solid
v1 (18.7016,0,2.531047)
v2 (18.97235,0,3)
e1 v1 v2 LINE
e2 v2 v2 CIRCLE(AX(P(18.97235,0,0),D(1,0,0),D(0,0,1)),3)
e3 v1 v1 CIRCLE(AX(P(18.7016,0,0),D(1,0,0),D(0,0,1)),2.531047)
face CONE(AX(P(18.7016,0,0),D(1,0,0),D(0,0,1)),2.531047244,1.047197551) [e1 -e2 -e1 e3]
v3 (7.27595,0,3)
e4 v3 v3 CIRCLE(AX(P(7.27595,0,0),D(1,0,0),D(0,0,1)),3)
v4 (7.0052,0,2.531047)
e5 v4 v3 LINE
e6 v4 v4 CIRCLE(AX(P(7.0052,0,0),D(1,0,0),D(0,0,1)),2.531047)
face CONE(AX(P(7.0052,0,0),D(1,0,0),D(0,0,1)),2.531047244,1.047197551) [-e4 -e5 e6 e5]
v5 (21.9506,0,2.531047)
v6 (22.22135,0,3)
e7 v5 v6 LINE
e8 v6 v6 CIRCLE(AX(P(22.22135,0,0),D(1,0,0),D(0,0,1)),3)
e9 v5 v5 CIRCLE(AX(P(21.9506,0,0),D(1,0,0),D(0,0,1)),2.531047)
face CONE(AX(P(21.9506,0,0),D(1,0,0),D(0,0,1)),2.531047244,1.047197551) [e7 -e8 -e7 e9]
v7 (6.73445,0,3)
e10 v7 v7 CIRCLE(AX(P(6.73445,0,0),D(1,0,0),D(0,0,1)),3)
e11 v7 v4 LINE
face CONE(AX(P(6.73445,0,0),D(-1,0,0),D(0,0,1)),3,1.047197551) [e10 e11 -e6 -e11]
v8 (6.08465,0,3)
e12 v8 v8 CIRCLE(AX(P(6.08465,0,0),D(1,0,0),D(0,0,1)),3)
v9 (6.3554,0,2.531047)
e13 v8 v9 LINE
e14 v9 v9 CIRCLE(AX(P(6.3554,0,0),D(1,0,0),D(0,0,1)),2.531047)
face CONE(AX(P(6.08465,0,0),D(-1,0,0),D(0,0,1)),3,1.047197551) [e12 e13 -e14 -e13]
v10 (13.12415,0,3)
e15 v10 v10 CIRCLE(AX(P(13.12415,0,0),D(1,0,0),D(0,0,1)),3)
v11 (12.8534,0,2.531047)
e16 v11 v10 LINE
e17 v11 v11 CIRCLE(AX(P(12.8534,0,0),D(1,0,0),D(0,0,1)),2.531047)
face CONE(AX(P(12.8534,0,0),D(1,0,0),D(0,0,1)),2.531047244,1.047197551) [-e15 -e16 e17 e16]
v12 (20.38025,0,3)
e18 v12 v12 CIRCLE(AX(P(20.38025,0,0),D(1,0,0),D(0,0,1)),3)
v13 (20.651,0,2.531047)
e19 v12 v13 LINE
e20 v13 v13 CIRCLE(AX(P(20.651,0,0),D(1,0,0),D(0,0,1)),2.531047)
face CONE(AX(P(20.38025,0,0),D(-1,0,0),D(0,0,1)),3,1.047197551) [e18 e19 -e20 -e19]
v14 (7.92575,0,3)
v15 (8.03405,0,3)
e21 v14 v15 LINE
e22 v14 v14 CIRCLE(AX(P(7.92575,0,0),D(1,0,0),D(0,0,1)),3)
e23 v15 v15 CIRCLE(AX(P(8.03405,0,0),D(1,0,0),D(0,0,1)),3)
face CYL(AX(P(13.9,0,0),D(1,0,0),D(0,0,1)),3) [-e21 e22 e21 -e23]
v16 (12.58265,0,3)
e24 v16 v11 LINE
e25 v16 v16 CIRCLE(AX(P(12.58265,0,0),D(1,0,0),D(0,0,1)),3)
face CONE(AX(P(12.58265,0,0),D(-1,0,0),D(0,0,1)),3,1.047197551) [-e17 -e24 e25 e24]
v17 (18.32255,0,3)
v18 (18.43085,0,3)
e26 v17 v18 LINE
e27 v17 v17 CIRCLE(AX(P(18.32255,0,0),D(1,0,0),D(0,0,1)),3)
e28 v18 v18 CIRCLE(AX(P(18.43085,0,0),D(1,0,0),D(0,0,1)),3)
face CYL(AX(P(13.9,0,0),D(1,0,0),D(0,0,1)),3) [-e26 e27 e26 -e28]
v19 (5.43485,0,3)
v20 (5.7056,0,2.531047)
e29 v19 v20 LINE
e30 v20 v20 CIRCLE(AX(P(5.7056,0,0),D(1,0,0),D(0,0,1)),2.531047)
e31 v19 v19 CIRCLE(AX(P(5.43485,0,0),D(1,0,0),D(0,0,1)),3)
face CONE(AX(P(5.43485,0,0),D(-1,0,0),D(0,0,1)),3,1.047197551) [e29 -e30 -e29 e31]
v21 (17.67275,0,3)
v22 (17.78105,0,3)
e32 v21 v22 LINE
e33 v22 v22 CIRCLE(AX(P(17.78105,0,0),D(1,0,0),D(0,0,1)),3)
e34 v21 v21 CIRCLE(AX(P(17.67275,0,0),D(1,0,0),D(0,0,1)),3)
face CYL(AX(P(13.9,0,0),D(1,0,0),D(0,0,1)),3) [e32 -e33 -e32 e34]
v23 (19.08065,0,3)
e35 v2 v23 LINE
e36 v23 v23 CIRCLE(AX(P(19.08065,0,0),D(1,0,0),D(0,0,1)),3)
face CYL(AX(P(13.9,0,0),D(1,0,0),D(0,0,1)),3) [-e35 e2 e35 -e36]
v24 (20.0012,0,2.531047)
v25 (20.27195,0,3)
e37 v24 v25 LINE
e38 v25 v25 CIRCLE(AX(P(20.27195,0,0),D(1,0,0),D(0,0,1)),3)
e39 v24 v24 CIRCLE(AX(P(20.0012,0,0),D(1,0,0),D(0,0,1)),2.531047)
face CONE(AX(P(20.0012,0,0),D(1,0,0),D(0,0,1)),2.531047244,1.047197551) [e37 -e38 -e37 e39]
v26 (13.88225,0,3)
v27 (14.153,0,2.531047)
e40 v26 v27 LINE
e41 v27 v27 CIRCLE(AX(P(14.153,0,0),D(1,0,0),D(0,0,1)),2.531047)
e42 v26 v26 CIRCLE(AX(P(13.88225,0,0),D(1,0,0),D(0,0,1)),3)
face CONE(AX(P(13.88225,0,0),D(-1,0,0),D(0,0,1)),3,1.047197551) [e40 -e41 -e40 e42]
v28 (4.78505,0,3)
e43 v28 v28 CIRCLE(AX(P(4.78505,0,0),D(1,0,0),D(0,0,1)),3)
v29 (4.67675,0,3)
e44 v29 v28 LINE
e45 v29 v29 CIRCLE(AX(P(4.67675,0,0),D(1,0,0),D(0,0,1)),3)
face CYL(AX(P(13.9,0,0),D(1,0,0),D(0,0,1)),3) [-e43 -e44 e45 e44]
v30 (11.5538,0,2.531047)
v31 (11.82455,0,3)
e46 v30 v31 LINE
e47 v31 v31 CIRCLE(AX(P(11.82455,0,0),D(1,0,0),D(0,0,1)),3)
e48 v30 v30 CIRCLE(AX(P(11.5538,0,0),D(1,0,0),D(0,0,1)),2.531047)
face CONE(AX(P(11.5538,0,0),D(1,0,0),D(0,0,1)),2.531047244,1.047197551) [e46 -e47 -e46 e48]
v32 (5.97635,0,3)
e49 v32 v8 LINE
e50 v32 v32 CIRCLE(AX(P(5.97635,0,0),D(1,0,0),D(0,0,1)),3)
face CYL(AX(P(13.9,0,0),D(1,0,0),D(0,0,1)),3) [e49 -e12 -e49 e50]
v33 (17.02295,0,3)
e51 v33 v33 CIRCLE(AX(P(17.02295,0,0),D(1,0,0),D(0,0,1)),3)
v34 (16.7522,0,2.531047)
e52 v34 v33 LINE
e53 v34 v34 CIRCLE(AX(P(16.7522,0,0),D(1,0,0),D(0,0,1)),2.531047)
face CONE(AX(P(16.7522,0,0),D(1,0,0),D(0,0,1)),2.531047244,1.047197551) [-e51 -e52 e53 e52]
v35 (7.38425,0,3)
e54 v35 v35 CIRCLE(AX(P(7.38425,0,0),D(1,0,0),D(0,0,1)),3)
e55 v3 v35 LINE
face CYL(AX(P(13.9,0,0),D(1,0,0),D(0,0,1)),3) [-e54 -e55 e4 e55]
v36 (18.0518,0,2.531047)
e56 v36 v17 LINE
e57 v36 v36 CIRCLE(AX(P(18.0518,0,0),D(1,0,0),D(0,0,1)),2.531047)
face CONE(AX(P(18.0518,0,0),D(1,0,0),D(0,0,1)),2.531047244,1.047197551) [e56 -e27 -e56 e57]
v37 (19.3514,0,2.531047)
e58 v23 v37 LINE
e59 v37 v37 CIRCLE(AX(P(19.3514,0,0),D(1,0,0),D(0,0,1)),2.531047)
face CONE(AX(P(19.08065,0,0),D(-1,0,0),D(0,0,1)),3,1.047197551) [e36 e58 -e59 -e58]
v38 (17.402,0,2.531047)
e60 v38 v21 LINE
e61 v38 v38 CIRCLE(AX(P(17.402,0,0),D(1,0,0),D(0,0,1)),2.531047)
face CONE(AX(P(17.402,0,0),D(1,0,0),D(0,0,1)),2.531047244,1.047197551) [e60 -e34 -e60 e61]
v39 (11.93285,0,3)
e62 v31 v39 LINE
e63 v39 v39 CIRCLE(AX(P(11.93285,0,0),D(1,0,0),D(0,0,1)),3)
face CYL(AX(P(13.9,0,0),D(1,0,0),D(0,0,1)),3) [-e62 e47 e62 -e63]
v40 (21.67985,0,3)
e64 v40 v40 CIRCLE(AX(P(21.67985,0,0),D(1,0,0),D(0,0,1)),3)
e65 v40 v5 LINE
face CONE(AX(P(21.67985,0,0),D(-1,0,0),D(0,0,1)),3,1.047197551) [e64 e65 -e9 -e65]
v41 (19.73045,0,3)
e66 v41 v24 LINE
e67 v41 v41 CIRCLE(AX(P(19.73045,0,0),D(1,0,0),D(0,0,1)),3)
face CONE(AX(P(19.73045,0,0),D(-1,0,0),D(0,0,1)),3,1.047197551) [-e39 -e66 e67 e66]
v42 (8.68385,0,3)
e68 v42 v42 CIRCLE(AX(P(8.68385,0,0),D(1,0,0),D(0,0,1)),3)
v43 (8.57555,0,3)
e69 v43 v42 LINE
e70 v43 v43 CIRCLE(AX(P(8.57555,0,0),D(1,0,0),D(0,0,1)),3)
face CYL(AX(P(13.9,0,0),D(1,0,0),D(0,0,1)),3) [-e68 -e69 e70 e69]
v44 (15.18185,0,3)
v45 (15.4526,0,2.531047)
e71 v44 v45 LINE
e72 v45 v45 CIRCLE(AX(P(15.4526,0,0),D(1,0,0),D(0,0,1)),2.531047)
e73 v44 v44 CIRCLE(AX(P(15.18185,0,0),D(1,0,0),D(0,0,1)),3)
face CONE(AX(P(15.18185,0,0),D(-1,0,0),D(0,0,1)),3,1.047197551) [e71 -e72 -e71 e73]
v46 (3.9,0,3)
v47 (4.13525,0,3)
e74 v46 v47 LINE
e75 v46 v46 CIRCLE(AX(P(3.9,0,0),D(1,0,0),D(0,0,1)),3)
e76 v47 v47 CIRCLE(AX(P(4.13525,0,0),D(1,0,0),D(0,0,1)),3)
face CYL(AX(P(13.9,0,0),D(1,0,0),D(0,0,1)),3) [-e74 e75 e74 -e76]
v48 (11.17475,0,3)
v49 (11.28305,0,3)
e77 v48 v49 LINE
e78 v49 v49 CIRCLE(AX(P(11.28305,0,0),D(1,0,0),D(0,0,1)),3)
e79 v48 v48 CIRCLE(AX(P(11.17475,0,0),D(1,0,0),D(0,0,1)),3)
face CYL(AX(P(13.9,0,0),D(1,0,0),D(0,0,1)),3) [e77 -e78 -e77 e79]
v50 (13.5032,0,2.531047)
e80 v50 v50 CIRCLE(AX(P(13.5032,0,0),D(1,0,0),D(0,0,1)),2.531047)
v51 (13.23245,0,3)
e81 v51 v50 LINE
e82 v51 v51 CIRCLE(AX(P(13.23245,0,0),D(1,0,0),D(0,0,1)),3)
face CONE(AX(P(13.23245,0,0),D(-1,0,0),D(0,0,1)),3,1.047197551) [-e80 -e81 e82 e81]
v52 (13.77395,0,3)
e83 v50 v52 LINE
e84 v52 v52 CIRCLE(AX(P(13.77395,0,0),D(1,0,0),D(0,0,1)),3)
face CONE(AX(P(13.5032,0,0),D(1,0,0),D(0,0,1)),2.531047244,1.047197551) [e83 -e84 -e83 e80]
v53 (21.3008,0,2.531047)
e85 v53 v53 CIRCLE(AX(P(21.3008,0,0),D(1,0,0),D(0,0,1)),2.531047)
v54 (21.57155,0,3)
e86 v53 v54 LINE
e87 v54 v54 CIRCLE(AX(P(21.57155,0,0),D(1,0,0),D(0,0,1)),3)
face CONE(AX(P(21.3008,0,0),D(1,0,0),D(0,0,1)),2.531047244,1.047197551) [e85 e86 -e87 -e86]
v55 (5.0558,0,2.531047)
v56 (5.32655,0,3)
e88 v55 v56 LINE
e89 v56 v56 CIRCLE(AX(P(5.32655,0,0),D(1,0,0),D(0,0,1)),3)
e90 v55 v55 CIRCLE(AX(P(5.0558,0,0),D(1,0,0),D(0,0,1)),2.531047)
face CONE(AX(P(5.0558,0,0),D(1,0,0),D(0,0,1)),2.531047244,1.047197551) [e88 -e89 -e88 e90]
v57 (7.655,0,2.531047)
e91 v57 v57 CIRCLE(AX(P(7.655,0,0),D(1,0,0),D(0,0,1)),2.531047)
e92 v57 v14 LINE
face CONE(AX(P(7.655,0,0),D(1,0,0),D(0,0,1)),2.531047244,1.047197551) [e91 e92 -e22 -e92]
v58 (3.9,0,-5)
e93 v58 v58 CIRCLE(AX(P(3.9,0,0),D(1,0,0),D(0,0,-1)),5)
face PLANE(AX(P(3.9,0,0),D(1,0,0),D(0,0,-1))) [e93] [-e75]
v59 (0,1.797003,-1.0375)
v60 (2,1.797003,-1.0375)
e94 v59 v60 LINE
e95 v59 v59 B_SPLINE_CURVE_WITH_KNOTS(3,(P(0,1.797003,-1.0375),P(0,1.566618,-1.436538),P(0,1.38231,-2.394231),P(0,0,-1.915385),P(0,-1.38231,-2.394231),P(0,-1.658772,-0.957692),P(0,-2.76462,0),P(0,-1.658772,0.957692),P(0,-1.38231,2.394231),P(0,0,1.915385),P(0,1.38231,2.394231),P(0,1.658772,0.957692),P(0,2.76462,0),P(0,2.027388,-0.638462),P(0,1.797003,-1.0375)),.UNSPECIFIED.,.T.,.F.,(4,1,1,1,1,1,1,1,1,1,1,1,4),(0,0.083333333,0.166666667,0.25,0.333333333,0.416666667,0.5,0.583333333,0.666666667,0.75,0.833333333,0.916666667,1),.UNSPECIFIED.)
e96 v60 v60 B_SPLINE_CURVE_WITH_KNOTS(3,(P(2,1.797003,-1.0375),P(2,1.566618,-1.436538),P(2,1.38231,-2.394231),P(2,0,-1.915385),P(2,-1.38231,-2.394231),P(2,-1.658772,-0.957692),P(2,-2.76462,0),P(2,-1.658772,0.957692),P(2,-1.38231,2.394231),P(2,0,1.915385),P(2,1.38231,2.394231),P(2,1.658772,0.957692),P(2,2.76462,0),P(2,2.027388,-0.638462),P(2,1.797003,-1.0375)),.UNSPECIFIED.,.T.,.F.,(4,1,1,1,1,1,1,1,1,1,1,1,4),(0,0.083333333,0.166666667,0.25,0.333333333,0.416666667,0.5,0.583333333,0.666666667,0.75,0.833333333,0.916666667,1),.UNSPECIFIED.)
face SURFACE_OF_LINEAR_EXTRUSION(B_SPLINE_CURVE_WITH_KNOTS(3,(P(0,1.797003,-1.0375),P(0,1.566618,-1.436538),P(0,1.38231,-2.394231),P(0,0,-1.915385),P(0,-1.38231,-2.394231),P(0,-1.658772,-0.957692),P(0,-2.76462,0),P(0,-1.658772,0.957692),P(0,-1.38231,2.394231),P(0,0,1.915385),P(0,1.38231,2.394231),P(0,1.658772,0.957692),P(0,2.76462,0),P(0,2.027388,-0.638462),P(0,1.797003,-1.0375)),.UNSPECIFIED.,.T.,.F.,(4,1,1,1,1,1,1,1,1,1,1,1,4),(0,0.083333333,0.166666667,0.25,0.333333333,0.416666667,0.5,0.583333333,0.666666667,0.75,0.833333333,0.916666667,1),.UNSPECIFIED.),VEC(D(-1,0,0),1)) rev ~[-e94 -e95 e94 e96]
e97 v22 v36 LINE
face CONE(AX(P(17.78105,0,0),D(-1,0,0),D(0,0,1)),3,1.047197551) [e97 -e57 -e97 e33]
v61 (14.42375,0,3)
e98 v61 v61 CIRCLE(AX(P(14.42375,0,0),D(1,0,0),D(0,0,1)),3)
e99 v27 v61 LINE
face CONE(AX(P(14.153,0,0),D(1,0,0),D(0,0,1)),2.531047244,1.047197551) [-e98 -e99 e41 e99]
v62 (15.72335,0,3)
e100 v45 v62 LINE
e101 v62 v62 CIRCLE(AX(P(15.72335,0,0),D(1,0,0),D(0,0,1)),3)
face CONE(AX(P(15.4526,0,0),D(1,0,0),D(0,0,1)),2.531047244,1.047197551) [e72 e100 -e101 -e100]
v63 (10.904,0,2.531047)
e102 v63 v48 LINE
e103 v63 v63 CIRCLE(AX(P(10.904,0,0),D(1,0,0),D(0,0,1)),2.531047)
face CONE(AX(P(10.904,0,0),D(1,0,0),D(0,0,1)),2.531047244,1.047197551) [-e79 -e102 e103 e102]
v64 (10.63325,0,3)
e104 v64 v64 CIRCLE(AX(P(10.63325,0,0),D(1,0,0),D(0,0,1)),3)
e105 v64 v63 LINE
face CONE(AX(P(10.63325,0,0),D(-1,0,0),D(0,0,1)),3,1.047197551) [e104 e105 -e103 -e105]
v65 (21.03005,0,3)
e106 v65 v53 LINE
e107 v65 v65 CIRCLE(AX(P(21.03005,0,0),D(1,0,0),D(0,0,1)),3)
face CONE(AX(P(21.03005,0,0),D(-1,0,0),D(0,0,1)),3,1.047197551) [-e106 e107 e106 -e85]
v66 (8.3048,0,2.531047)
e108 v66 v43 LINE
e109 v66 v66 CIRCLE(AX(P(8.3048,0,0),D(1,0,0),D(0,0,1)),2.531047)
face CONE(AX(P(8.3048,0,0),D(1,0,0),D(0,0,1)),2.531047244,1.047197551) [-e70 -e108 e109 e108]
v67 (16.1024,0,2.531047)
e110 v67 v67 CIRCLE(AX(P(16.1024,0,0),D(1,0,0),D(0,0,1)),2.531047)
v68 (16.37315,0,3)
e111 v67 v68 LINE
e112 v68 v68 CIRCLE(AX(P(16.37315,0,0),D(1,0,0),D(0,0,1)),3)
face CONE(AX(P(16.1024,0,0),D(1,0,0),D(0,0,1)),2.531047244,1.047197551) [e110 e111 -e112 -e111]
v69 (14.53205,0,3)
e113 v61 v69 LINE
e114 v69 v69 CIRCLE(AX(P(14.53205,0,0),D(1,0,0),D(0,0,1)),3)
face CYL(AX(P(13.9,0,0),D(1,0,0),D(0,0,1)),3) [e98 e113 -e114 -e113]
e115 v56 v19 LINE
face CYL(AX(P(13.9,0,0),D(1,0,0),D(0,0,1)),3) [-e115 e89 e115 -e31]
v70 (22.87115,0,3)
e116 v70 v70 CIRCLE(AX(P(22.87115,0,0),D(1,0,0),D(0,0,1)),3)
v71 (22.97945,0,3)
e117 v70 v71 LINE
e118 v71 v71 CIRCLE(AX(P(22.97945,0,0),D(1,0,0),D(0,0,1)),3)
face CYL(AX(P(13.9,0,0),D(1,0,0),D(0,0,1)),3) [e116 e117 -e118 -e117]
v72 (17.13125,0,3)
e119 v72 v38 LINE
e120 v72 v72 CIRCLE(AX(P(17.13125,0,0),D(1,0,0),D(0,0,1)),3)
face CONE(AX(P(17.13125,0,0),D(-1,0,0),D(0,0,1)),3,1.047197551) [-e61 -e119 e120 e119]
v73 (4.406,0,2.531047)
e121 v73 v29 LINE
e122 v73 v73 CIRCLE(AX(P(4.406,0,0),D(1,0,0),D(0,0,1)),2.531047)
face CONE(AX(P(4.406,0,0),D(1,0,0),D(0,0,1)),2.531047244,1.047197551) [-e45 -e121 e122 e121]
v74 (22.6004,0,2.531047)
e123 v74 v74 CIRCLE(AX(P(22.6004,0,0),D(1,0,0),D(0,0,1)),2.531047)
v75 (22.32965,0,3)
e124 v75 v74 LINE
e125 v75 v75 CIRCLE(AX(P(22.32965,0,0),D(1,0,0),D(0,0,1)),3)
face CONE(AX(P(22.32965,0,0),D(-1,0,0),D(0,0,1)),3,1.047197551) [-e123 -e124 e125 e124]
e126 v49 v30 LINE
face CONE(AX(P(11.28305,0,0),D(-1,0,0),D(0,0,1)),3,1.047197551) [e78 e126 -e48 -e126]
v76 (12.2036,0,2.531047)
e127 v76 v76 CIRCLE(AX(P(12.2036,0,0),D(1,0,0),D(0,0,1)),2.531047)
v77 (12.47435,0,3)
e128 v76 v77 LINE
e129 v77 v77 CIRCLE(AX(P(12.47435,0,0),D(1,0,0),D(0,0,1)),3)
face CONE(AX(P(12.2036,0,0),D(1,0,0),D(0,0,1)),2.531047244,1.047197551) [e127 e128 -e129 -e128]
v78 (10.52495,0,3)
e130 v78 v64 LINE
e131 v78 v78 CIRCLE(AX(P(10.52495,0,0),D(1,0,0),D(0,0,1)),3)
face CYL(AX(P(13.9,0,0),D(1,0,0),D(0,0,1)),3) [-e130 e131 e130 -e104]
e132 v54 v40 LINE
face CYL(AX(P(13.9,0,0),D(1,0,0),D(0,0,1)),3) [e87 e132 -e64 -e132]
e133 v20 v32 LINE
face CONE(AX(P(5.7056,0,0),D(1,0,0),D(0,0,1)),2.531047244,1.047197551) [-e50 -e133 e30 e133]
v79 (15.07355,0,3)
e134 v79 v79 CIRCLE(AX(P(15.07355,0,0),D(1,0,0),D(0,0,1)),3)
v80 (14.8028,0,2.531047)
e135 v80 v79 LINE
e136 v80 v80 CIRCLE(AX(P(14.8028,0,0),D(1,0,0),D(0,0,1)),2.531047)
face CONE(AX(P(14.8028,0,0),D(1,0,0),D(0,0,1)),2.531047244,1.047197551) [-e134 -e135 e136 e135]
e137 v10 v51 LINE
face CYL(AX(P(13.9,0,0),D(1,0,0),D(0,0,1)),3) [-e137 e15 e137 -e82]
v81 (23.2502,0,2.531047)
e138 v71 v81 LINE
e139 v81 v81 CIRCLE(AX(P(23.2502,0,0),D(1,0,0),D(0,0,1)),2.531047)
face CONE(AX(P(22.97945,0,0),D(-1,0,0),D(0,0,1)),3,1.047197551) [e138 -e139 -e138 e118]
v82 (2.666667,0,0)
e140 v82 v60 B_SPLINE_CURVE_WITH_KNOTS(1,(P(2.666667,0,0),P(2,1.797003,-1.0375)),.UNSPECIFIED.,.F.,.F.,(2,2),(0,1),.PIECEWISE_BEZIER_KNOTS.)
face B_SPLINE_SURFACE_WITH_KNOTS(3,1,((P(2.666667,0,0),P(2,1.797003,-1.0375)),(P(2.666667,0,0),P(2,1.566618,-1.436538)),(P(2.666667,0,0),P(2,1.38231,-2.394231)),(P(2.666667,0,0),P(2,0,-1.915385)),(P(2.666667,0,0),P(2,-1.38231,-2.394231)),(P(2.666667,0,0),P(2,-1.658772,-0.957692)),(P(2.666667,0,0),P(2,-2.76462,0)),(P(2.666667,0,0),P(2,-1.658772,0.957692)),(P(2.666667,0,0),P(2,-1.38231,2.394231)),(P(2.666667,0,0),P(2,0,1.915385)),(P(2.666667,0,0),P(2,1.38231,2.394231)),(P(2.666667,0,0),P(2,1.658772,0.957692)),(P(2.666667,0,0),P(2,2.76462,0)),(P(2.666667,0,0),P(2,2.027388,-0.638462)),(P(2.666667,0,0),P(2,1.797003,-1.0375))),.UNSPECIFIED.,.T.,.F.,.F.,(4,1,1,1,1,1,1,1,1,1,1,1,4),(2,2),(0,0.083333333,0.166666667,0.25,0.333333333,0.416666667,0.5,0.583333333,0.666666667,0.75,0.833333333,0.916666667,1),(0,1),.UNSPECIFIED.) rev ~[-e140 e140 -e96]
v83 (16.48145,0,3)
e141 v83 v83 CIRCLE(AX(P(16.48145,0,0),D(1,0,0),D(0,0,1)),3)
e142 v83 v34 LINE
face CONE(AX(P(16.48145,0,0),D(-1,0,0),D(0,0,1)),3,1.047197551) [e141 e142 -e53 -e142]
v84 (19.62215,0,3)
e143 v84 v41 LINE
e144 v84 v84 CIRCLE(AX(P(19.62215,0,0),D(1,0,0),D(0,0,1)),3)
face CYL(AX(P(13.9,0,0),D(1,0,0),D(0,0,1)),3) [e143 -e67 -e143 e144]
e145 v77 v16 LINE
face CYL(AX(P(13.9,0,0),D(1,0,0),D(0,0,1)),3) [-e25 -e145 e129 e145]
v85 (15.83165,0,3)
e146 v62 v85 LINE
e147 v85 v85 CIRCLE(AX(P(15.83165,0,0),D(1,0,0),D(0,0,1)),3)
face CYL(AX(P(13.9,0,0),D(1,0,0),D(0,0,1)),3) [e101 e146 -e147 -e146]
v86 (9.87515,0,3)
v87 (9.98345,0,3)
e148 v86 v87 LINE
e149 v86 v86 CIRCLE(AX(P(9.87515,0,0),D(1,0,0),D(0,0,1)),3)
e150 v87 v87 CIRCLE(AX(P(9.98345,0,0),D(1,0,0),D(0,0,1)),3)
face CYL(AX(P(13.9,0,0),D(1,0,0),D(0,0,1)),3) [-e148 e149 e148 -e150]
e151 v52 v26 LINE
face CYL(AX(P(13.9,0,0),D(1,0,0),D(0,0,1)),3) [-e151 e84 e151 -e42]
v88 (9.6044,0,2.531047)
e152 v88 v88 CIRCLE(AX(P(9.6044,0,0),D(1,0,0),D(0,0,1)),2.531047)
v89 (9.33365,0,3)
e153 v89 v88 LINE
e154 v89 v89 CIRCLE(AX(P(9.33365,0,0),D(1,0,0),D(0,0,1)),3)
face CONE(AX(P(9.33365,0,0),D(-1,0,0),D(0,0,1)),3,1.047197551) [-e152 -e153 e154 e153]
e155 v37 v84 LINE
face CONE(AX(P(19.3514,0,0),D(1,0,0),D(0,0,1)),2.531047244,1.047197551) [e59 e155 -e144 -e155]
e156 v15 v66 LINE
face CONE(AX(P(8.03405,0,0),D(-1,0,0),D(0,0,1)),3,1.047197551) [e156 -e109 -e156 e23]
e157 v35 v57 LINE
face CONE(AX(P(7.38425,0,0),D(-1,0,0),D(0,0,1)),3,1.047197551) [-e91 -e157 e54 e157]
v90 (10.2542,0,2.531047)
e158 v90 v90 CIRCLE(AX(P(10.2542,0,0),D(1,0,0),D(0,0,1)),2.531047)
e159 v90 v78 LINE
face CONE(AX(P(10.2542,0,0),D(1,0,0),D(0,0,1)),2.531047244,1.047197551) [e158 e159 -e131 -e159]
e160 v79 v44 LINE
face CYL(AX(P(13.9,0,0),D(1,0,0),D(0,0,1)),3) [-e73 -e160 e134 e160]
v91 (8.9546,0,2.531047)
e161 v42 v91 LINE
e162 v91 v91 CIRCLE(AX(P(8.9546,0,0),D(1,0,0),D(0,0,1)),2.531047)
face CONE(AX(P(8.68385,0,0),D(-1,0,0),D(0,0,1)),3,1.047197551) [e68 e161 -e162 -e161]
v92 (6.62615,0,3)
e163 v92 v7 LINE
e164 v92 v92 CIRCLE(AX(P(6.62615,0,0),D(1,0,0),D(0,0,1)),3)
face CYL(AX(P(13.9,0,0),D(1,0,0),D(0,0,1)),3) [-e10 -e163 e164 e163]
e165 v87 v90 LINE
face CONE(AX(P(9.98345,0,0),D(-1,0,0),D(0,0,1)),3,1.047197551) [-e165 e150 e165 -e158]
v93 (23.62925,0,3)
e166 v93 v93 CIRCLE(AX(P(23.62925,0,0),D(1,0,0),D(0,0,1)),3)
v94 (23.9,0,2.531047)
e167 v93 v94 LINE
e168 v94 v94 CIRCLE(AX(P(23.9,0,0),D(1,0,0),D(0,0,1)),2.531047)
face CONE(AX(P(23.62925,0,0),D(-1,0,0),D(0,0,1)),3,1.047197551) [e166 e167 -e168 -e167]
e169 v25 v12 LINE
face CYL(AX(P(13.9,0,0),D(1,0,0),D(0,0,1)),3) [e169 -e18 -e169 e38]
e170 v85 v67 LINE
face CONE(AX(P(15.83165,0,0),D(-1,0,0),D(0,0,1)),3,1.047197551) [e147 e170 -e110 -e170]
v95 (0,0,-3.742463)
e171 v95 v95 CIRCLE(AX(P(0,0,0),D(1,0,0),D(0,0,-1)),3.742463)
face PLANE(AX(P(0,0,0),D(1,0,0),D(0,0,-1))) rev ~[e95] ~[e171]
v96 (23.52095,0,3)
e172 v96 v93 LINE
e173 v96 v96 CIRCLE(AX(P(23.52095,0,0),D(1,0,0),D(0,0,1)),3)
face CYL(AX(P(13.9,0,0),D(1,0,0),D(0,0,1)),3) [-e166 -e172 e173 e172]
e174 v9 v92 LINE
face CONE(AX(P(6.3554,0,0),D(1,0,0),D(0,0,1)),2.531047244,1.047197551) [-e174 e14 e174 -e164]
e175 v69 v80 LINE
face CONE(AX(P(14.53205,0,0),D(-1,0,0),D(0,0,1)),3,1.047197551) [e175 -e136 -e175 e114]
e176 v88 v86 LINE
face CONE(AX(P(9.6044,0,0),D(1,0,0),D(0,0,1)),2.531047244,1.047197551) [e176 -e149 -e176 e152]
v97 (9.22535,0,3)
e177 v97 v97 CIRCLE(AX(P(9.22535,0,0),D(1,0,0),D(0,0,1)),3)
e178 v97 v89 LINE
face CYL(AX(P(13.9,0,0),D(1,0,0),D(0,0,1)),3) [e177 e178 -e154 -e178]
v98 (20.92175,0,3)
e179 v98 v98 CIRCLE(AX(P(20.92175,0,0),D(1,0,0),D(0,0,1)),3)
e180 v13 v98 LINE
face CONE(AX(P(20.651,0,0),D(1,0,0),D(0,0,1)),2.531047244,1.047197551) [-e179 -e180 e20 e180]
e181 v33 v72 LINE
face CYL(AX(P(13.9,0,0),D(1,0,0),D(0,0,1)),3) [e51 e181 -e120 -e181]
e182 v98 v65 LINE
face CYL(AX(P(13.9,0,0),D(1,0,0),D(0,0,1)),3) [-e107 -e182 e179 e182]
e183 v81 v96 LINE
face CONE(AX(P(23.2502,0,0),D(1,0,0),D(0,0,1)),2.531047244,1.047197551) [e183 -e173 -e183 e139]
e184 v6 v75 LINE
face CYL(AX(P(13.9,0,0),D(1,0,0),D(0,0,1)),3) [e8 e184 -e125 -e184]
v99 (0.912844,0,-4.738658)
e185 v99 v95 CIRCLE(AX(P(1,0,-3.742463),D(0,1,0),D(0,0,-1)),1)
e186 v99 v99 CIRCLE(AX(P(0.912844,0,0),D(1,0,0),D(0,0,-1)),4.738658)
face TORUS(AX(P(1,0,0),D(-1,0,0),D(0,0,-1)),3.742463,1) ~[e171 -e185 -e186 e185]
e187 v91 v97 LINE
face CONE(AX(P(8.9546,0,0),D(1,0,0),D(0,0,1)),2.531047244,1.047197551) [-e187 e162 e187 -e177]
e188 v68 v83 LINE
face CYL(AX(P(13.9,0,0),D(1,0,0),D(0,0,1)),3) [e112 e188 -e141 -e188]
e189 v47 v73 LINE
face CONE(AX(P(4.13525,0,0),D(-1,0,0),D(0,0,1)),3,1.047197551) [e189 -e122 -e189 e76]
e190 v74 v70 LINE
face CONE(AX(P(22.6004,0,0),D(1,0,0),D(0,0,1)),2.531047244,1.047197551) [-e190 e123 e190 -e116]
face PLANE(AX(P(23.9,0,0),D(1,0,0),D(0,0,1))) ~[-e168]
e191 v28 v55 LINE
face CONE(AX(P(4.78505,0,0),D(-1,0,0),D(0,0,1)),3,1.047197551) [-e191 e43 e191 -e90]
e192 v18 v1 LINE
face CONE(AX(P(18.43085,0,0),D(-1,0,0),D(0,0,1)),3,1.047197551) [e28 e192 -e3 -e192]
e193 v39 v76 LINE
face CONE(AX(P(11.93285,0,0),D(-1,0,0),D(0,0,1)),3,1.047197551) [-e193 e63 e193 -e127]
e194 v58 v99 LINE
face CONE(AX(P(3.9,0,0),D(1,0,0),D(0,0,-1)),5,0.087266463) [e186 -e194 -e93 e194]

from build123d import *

# Parameters (mm, degrees)
SKETCH1_R        = 5
BASEHEAD_DEPTH   = 3.9
BASEHEAD_DRAFT   = -5
SKETCH8_W        = 20
SKETCH8_H        = 3
SOCKET_DEPTH     = 2
HEADFILLET2_R    = 1
LPATTERN10_COUNT = 31
LPATTERN10_PITCH = 0.6498


with BuildPart() as part:
    # Sketch1 → BaseHead (with draft: the straight prism first)
    with BuildSketch(Plane(origin=(3.9, 0, 0), x_dir=(0, 0, -1), z_dir=(1, 0, 0))):
        Circle(SKETCH1_R)
    extrude(amount=-BASEHEAD_DEPTH)
    # BaseHead: the draft: its side faces are tilted about the plane it starts from
    basehead_sides = [part.faces().sort_by_distance(p)[0] for p in [
        (1.95, 0, 5),
    ]]
    draft(basehead_sides, Plane(origin=(3.9, 0, 0), x_dir=(0, 0, -1), z_dir=(1, 0, 0)), BASEHEAD_DRAFT)

    # Sketch8 → Revolve1 (revolve)
    with BuildSketch(Plane.XY, mode=Mode.PRIVATE) as revolve1_sk:
        with Locations((13.9, 1.5)):
            Rectangle(SKETCH8_W, SKETCH8_H)
    revolve(revolve1_sk.sketch.rotate(Axis((0, 0, 0), (1, 0, 0)), 90), axis=Axis((0, 0, 0), (1, 0, 0)))

    # Sketch4 → Socket (cut)
    with BuildSketch(Plane(origin=(0, 0, 0), x_dir=(0, 0, -1), z_dir=(1, 0, 0))):
        with BuildLine():
            add(Edge.make_bspline(
                [(1.0375, 1.797002713), (1.436538462, 1.56661775), (2.394230769, 1.382309779), (1.915384615, 0), (2.394230769, -1.382309779), (0.957692308, -1.658771735), (0, -2.764619558), (-0.957692308, -1.658771735), (-2.394230769, -1.382309779), (-1.915384615, 0), (-2.394230769, 1.382309779), (-0.957692308, 1.658771735), (0, 2.764619558), (0.638461538, 2.027387676), (1.0375, 1.797002713)],
                knots=[0, 0, 0, 0, 0.083333333, 0.166666667, 0.25, 0.333333333, 0.416666667, 0.5, 0.583333333, 0.666666667, 0.75, 0.833333333, 0.916666667, 1, 1, 1, 1], degree=3))
        make_face()
    extrude(amount=SOCKET_DEPTH, mode=Mode.SUBTRACT)

    # Sketch5 → Cut-Loft1 section 0
    with BuildSketch(Plane.ZY.offset(-2), mode=Mode.PRIVATE) as cut_loft1_s0:
        with BuildLine():
            add(Edge.make_bspline(
                [(-1.0375, 1.797002713), (-1.436538462, 1.56661775), (-2.394230769, 1.382309779), (-1.915384615, 0), (-2.394230769, -1.382309779), (-0.957692308, -1.658771735), (0, -2.764619558), (0.957692308, -1.658771735), (2.394230769, -1.382309779), (1.915384615, 0), (2.394230769, 1.382309779), (0.957692308, 1.658771735), (0, 2.764619558), (-0.638461538, 2.027387676), (-1.0375, 1.797002713)],
                knots=[0, 0, 0, 0, 0.083333333, 0.166666667, 0.25, 0.333333333, 0.416666667, 0.5, 0.583333333, 0.666666667, 0.75, 0.833333333, 0.916666667, 1, 1, 1, 1], degree=3))
        make_face()
    loft([Vertex(2.666666667, 0, 0), cut_loft1_s0.sketch], mode=Mode.SUBTRACT)

    # HeadFillet2
    headfillet2_edges = [part.edges().sort_by_distance(p)[0] for p in [
        (0, 0, 4.658794212),
    ]]
    fillet(headfillet2_edges, radius=HEADFILLET2_R)

    # Sketch9 → Cut-Revolve10 (revolve, cut)
    with BuildSketch(Plane.XY, mode=Mode.PRIVATE) as cut_revolve10_sk:
        Polygon((23.9, 2.531047244), (24.17075, 3), (24.17075, 3.5415), (23.62925, 3.5415), (23.62925, 3), align=None)
    cut_revolve10 = revolve(cut_revolve10_sk.sketch.rotate(Axis((0, 0, 0), (1, 0, 0)), 90), axis=Axis((0, 0, 0), (1, 0, 0)), mode=Mode.SUBTRACT)

    # LPattern10: Cut-Revolve10 ×31
    with Locations(*[(-i * LPATTERN10_PITCH, 0, 0) for i in range(1, LPATTERN10_COUNT)]):
        add(cut_revolve10, mode=Mode.SUBTRACT)


solid = part.part
